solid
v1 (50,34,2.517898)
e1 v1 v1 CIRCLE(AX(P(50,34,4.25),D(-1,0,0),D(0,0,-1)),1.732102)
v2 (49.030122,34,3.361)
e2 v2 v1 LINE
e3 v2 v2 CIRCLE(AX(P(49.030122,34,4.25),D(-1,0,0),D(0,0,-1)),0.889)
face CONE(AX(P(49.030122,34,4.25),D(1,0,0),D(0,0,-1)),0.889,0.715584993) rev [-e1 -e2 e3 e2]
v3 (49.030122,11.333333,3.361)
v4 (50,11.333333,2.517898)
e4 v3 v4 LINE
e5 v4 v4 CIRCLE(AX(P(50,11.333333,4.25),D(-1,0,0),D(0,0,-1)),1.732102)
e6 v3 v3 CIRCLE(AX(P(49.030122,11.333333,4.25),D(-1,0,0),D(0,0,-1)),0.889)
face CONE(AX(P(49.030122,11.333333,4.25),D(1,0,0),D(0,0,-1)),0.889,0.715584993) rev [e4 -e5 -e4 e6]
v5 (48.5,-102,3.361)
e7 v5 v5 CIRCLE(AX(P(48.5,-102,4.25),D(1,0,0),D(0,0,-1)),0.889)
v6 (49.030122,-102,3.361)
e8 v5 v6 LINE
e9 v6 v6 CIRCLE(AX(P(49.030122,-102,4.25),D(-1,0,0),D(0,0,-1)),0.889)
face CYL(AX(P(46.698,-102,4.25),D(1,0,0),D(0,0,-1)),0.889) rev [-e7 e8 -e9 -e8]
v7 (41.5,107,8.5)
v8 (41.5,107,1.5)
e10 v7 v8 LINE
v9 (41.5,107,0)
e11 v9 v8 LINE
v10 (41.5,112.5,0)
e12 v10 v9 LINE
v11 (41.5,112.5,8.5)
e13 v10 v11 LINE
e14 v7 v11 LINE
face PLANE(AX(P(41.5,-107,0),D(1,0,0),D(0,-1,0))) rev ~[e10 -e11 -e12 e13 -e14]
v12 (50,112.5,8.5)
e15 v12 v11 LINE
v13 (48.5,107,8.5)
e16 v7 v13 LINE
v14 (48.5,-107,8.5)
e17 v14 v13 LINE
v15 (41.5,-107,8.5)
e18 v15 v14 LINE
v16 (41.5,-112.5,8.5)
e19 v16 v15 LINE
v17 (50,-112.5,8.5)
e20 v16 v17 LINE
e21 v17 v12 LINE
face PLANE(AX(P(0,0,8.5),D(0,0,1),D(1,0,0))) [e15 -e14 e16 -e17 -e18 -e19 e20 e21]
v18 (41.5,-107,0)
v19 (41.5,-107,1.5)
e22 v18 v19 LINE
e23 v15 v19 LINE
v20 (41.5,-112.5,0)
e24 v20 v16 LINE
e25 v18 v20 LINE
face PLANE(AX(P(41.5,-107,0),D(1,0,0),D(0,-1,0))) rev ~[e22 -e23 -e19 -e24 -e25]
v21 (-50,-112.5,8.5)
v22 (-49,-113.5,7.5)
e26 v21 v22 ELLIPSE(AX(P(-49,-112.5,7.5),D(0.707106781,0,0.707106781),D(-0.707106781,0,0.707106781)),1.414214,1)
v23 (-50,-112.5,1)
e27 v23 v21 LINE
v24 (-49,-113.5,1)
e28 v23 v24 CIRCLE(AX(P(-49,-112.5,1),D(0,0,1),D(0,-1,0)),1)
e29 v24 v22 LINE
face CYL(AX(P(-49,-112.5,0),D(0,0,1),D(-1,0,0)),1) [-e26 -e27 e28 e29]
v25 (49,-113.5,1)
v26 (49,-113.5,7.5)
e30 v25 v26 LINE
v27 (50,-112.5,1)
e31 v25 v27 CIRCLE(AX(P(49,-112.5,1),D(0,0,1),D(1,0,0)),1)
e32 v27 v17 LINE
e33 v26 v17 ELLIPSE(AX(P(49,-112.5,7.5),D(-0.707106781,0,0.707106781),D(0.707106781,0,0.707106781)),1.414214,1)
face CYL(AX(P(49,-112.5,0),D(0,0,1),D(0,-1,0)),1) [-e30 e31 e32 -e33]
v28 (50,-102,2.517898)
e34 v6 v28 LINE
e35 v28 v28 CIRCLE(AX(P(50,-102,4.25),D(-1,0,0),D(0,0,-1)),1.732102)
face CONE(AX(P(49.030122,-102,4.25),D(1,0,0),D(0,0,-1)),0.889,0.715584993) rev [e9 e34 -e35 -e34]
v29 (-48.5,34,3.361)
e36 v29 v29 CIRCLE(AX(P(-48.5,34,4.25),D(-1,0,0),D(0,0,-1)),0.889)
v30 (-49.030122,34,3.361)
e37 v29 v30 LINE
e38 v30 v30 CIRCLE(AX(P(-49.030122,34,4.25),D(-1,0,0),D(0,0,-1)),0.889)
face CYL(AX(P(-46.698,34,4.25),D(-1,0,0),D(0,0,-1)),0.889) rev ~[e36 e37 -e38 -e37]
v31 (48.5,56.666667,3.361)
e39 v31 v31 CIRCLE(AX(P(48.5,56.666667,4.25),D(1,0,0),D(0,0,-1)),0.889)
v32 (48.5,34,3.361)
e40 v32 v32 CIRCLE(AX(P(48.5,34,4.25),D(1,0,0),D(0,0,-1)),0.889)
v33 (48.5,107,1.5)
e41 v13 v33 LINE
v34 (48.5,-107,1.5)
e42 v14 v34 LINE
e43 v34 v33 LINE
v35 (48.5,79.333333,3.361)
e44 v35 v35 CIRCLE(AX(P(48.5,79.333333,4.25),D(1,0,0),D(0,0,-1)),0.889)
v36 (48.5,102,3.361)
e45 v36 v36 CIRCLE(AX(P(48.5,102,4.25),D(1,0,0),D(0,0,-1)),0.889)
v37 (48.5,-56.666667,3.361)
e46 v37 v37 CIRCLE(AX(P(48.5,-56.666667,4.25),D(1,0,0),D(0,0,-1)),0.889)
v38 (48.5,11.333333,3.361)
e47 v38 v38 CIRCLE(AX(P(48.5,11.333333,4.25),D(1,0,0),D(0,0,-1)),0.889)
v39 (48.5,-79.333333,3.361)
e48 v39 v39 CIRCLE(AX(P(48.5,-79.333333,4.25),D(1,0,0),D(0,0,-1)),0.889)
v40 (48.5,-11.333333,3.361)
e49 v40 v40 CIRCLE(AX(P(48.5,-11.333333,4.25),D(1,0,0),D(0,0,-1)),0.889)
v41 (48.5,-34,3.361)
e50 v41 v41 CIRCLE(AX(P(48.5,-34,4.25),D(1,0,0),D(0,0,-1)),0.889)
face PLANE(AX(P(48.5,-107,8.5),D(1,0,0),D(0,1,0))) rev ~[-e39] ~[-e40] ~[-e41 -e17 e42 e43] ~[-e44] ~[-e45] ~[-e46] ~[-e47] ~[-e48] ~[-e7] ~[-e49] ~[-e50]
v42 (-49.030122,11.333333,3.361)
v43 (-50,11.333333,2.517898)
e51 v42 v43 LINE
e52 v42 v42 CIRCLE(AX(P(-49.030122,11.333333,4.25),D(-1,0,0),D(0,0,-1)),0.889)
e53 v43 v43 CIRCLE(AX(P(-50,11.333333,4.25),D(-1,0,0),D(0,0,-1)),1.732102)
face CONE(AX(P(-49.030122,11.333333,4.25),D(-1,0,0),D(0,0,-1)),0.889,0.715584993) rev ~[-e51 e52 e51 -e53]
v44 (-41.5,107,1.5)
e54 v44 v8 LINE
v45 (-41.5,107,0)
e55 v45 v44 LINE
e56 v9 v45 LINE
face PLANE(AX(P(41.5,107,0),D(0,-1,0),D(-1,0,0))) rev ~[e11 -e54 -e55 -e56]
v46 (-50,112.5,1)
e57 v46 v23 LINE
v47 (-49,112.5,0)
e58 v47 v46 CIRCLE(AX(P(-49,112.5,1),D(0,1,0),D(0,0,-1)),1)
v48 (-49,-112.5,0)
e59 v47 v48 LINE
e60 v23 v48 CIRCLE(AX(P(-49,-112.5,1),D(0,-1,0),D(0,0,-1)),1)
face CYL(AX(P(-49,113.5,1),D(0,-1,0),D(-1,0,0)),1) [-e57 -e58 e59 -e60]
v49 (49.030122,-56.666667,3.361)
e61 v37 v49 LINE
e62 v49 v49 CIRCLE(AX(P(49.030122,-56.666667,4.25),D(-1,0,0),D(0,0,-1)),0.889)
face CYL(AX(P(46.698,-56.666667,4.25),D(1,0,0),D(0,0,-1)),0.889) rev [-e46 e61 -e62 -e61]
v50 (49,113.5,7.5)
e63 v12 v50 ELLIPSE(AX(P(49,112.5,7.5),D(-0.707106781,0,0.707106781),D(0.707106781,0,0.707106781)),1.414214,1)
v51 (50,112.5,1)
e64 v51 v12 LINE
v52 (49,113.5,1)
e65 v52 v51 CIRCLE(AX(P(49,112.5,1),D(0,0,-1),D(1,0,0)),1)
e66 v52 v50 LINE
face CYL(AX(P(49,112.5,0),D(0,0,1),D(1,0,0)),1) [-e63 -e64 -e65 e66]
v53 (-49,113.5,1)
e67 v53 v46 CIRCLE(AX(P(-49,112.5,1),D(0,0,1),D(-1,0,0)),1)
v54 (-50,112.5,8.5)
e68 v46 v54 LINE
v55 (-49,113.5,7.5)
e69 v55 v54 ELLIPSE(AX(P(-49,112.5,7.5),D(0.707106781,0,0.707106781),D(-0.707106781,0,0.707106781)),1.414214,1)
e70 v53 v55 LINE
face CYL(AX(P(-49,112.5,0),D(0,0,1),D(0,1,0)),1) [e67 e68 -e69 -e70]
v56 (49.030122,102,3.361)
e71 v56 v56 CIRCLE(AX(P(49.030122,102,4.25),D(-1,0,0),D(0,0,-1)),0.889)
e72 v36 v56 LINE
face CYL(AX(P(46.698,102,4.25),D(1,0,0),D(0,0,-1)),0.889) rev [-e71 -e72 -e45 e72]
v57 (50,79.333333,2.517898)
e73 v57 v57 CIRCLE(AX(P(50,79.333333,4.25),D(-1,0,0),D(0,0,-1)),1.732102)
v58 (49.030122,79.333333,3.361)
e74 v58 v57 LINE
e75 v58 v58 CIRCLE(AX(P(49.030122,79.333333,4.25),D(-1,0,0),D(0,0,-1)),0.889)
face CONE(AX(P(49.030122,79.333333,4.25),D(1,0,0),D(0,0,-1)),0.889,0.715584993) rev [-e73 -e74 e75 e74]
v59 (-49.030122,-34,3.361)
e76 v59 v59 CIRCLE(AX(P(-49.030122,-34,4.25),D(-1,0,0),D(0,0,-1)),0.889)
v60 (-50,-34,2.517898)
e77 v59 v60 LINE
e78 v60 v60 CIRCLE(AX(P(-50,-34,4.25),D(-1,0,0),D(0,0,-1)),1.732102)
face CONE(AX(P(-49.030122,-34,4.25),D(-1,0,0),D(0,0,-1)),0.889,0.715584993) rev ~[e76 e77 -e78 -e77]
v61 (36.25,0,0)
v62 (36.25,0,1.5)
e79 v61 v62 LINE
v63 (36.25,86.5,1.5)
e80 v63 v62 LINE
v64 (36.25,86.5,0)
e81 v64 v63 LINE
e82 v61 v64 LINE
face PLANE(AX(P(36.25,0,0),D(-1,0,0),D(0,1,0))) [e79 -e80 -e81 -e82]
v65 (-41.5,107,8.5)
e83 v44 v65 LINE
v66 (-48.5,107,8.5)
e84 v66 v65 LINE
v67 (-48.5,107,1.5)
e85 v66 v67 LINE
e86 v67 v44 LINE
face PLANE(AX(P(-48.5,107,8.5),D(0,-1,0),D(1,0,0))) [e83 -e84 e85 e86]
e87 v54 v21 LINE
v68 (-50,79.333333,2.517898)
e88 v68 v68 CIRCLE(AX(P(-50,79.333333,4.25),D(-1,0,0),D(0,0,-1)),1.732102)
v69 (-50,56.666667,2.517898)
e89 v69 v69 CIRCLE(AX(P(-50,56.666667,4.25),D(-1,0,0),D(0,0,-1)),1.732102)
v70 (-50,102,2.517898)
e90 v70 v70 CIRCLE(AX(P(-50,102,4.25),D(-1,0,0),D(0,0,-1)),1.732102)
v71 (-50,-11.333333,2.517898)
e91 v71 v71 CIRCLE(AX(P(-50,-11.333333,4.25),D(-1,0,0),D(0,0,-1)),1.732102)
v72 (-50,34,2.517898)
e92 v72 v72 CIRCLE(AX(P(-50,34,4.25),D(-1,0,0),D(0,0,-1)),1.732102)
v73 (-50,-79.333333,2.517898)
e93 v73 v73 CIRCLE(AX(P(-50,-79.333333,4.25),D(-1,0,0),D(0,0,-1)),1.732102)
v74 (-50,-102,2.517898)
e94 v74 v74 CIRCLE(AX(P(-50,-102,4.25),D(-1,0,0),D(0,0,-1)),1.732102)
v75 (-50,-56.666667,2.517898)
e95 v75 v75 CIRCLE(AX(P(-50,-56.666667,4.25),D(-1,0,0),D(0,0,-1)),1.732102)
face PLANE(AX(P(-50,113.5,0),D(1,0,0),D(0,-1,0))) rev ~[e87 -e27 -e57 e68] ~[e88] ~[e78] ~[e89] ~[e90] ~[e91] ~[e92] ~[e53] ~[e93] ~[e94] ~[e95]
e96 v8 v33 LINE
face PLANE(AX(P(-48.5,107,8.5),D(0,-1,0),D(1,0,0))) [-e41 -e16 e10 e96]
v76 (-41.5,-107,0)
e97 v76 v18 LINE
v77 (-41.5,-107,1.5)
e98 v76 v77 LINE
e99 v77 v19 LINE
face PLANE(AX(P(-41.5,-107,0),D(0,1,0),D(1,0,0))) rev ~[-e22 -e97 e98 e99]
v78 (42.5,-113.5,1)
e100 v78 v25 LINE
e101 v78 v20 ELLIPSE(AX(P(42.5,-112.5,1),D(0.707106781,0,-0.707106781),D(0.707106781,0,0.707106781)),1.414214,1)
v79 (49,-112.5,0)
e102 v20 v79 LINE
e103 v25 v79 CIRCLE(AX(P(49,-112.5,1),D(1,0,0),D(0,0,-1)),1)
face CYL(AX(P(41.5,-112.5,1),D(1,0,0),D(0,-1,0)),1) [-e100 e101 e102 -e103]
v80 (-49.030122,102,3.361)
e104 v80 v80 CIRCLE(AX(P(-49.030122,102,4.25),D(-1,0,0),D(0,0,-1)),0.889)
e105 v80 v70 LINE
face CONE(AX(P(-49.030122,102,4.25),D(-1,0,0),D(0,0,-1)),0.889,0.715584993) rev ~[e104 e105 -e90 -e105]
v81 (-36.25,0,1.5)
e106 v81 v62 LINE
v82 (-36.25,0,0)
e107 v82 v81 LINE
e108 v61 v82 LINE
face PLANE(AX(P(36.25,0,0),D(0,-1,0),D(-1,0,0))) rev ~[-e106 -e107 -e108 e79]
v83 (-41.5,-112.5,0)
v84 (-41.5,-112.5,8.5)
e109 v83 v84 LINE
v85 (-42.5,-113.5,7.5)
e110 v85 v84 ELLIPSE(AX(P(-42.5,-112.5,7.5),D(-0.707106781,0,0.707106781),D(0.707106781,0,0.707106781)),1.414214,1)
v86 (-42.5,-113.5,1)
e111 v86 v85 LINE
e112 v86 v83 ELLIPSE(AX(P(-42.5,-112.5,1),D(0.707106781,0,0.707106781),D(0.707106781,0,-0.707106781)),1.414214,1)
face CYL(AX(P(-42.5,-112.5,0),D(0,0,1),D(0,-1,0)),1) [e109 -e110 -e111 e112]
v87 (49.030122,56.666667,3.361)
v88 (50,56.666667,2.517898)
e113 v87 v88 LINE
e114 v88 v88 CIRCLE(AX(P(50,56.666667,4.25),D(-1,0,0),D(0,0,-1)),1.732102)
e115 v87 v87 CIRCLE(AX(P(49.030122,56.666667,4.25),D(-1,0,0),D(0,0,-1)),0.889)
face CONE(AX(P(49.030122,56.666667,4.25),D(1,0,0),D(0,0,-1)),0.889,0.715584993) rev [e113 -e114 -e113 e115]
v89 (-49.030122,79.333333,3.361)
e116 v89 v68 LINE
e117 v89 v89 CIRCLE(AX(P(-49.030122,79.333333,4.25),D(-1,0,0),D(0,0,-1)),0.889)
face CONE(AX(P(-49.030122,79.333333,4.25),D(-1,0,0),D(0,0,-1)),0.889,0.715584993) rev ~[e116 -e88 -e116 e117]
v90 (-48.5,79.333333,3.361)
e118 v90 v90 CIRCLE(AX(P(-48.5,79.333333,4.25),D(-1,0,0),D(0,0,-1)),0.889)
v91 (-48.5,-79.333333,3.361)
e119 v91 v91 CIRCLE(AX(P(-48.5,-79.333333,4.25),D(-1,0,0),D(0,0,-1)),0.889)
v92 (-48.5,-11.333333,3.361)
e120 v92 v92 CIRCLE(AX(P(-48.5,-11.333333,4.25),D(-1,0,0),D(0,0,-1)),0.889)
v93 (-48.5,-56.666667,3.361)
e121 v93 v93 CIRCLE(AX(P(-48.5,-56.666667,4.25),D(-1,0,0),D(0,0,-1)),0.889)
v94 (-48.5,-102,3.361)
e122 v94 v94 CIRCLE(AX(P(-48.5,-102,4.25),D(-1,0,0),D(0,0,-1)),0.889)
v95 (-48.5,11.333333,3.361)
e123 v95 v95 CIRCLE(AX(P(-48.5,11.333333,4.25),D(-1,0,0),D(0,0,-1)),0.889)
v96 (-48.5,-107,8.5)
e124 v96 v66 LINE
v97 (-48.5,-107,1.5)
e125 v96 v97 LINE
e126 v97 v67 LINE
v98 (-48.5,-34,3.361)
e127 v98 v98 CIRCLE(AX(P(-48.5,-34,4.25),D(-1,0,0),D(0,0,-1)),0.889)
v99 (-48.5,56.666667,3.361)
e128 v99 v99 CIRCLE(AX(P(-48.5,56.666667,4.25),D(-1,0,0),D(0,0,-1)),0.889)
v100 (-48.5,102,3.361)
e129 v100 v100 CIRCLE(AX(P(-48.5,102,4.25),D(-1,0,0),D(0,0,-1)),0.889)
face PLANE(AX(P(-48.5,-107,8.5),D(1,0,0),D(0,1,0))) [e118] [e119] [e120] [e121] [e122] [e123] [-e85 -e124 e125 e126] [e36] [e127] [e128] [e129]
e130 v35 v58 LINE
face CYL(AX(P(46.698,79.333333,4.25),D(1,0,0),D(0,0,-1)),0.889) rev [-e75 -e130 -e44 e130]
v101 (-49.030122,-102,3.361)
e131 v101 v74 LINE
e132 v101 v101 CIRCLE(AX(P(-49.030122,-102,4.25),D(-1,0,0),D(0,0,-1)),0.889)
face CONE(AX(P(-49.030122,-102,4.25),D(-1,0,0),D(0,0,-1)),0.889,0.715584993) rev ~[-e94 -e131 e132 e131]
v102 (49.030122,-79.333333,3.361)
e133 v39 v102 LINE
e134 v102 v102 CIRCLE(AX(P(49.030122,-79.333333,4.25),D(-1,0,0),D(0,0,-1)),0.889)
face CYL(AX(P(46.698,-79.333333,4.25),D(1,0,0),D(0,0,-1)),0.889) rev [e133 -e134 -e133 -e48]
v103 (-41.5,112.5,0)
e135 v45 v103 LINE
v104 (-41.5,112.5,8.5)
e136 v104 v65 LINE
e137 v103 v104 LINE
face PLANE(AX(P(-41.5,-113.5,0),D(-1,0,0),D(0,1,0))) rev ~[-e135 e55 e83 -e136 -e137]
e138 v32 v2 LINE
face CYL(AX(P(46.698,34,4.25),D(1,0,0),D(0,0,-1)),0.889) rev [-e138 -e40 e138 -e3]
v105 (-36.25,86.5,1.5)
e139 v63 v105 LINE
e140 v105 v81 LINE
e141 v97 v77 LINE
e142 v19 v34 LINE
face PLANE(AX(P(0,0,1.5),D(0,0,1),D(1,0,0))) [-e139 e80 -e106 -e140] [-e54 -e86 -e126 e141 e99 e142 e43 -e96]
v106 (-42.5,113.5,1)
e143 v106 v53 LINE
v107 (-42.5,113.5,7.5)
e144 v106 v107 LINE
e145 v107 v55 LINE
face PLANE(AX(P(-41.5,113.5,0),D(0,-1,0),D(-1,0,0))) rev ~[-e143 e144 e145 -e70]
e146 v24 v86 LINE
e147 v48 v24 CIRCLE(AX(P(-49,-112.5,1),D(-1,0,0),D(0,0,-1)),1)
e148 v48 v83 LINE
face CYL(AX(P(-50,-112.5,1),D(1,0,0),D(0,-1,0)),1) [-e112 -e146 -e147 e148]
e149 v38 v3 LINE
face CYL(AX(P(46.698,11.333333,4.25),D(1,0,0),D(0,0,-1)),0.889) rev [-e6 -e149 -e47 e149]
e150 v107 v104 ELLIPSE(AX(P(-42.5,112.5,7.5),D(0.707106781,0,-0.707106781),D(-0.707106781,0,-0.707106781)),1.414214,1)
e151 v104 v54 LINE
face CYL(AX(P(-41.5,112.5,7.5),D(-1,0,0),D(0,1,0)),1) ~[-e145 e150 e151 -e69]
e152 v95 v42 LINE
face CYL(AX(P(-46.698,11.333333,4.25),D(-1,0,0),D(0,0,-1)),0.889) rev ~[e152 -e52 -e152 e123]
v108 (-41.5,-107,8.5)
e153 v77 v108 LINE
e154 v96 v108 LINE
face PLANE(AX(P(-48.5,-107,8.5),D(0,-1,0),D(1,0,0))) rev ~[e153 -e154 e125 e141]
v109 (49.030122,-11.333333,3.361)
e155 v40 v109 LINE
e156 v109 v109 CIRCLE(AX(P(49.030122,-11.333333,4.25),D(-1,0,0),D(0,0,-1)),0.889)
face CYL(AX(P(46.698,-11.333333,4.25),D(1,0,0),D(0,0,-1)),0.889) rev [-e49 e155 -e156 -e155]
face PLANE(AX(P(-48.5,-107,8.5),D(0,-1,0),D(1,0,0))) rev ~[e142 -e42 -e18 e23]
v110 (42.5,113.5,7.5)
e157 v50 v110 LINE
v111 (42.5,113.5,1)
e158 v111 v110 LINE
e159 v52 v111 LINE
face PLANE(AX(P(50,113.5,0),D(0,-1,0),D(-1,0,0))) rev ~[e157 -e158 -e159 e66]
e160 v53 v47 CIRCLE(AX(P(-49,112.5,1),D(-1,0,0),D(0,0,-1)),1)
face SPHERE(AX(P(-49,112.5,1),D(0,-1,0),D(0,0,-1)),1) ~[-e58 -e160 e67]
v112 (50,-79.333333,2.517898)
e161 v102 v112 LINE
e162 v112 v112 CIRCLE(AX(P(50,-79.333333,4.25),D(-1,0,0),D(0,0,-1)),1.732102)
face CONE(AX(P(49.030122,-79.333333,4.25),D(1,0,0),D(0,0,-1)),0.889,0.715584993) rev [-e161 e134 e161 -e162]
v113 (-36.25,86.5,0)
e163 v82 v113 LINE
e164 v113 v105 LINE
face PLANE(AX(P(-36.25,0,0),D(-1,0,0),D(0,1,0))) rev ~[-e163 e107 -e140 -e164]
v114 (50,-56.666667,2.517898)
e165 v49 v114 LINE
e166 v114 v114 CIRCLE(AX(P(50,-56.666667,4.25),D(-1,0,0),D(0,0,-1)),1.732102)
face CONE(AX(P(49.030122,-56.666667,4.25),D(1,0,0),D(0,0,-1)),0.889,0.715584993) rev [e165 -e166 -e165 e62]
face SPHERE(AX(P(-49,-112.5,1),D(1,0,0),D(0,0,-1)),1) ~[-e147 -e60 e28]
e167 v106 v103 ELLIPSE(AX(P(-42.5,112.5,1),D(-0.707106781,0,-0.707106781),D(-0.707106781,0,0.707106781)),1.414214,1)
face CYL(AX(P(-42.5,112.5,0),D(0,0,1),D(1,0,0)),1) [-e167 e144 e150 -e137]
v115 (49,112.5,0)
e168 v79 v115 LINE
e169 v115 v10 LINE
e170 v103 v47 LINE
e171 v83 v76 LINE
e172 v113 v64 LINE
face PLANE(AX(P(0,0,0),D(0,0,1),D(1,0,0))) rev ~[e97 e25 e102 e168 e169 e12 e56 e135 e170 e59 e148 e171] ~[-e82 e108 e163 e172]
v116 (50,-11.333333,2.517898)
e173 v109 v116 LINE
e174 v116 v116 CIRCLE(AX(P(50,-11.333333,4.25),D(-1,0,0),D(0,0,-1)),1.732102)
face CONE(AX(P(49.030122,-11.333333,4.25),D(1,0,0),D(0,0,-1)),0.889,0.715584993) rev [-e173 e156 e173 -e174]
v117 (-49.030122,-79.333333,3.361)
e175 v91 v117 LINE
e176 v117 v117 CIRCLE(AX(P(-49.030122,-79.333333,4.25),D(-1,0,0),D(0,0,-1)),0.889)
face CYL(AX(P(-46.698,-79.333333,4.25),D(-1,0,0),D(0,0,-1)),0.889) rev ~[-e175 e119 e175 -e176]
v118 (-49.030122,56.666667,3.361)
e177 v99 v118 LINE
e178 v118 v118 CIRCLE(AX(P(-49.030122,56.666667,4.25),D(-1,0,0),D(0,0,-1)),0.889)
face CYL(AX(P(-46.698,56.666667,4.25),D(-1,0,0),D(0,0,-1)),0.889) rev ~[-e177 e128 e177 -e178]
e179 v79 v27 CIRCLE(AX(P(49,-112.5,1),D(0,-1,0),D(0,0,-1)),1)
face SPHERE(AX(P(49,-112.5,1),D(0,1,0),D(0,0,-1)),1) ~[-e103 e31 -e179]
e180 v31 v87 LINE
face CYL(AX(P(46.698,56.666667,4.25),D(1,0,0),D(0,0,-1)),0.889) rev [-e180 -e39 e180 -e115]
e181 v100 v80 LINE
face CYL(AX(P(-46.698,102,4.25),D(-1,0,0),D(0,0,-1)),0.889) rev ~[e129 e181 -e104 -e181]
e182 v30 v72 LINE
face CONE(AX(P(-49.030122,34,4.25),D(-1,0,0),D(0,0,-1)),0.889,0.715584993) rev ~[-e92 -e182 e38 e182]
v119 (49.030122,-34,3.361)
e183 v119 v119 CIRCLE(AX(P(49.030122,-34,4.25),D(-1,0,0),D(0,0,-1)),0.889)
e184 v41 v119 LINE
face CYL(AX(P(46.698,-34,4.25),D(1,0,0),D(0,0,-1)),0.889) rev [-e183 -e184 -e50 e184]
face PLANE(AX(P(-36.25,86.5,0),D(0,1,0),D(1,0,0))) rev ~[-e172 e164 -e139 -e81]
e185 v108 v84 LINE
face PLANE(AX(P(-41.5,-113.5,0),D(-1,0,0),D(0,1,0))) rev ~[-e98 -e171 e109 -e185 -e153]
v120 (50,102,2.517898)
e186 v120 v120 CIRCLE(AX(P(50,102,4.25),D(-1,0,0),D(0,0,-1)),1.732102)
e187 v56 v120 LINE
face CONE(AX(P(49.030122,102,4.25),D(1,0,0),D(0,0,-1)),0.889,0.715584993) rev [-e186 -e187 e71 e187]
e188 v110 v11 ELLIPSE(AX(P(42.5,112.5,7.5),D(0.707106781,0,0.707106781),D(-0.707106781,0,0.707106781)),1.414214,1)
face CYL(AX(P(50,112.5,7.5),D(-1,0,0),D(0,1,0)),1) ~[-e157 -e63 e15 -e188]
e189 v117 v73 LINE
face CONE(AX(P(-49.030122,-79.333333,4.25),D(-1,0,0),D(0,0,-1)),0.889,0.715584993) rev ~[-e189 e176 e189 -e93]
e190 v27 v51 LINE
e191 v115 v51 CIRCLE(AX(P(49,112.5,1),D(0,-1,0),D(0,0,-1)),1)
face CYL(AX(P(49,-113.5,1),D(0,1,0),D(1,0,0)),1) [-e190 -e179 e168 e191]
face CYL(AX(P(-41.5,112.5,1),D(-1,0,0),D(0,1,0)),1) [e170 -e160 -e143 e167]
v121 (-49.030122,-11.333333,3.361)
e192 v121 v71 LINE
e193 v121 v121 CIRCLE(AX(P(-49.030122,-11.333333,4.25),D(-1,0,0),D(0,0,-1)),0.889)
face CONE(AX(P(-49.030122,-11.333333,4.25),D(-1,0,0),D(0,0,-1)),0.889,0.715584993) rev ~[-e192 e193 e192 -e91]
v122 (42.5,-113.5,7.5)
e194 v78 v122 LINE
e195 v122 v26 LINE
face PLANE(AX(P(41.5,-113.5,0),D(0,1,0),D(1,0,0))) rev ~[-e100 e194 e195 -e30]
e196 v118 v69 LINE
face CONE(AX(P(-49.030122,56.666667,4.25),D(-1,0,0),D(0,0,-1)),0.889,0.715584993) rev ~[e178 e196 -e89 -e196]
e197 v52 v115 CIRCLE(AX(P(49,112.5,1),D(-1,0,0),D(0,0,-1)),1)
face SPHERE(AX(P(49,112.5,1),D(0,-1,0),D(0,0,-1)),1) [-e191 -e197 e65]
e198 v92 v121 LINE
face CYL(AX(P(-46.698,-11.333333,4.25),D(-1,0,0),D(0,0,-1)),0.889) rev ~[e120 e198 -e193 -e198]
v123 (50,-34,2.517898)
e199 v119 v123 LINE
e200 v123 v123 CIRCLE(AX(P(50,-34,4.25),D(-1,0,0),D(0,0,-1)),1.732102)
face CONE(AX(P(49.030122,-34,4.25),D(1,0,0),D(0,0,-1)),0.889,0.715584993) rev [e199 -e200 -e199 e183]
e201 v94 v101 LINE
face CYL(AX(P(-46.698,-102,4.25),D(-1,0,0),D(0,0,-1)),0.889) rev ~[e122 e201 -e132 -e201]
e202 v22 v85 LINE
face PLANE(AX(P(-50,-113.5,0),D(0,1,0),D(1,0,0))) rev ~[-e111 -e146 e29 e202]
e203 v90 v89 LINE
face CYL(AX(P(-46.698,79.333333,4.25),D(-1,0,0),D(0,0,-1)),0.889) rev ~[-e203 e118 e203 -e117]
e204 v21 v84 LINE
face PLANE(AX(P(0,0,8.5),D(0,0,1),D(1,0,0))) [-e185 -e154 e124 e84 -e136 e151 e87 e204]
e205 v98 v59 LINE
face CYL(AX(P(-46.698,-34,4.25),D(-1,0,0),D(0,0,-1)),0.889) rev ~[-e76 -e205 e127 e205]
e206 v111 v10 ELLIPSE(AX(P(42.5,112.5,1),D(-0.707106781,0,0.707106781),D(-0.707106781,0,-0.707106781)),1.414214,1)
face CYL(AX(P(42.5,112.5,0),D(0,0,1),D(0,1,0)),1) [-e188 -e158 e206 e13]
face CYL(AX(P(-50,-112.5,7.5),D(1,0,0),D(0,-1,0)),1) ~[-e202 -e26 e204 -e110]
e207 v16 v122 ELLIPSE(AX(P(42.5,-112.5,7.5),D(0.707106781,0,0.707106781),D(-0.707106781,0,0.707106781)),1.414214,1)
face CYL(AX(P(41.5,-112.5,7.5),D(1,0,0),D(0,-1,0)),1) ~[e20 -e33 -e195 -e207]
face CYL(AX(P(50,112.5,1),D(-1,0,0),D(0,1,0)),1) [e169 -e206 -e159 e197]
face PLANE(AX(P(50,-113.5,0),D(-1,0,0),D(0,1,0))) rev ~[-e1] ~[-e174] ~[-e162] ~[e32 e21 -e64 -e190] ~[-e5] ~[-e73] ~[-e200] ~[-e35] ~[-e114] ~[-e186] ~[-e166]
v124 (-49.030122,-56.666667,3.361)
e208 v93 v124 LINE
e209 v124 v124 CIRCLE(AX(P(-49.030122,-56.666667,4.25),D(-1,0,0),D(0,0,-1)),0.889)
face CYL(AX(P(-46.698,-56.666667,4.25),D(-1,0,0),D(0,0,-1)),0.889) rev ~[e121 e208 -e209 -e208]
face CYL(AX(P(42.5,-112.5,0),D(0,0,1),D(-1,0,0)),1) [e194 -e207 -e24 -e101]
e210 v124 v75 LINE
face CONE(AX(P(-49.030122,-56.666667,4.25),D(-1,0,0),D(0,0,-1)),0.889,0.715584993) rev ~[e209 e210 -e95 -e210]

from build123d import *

# Parameters (mm, degrees)
BOSS_EXTRUDE1_DEPTH                           = 8.5
FILLET1_R                                     = 1
SKETCH2_W                                     = 83
SKETCH2_H                                     = 214
CUT_EXTRUDE1_DEPTH                            = 7
SKETCH3_W                                     = 97
SKETCH3_H                                     = 214
CUT_EXTRUDE2_DEPTH                            = 7
SKETCH6_W                                     = 36.25
SKETCH6_H                                     = 86.5
CUT_EXTRUDE3_DEPTH                            = 10
CSK_FOR_0_FLAT_HEAD_MACHINE_SCREW1_AT_2_COUNT = 2
CSK_FOR_0_FLAT_HEAD_MACHINE_SCREW1_AT_2_PITCH = 22.666666667
CSK_FOR_0_FLAT_HEAD_MACHINE_SCREW1_AT_3_COUNT = 2
CSK_FOR_0_FLAT_HEAD_MACHINE_SCREW1_AT_3_PITCH = 45.333333333
CSK_FOR_0_FLAT_HEAD_MACHINE_SCREW1_AT_4_COUNT = 2
CSK_FOR_0_FLAT_HEAD_MACHINE_SCREW1_AT_4_PITCH = 68
CSK_FOR_0_FLAT_HEAD_MACHINE_SCREW1_AT_5_COUNT = 2
CSK_FOR_0_FLAT_HEAD_MACHINE_SCREW1_AT_5_PITCH = 90.666666667
CSK_FOR_0_FLAT_HEAD_MACHINE_SCREW1_AT_6_COUNT = 2
CSK_FOR_0_FLAT_HEAD_MACHINE_SCREW1_AT_6_PITCH = 113.333333333
CSK_FOR_0_FLAT_HEAD_MACHINE_SCREW1_AT_7_COUNT = 2
CSK_FOR_0_FLAT_HEAD_MACHINE_SCREW1_AT_7_PITCH = 136
CSK_FOR_0_FLAT_HEAD_MACHINE_SCREW1_AT_8_COUNT = 2
CSK_FOR_0_FLAT_HEAD_MACHINE_SCREW1_AT_8_PITCH = 158.666666667
CSK_FOR_0_FLAT_HEAD_MACHINE_SCREW1_AT_9_COUNT = 2
CSK_FOR_0_FLAT_HEAD_MACHINE_SCREW1_AT_9_PITCH = 181.333333333
CSK_FOR_0_FLAT_HEAD_MACHINE_SCREW1_AT_1_COUNT = 2
CSK_FOR_0_FLAT_HEAD_MACHINE_SCREW1_AT_1_PITCH = 204


with BuildPart() as part:
    # Sketch1 → Boss-Extrude1 (new body)
    with BuildSketch(Plane.XY):
        Polygon((-41.5, -107), (41.5, -107), (41.5, -113.5), (50, -113.5), (50, -107), (50, 107), (50, 113.5), (41.5, 113.5), (41.5, 107), (-41.5, 107), (-41.5, 113.5), (-50, 113.5), (-50, 107), (-50, -107), (-50, -113.5), (-41.5, -113.5), align=None)
    extrude(amount=BOSS_EXTRUDE1_DEPTH)

    # Fillet1
    fillet1_edges = [part.edges().sort_by_distance(p)[0] for p in [
        (50, 0, 0),
        (45.75, -113.5, 0),
        (-45.75, -113.5, 0),
        (-50, 0, 0),
        (-45.75, 113.5, 0),
        (-45.75, 113.5, 8.5),
        (45.75, 113.5, 0),
        (50, -113.5, 4.25),
        (41.5, -113.5, 4.25),
        (-41.5, -113.5, 4.25),
        (-50, -113.5, 4.25),
        (-50, 113.5, 4.25),
        (-41.5, 113.5, 4.25),
        (41.5, 113.5, 4.25),
        (50, 113.5, 4.25),
        (-45.75, -113.5, 8.5),
        (45.75, -113.5, 8.5),
        (45.75, 113.5, 8.5),
    ]]
    fillet(fillet1_edges, radius=FILLET1_R)

    # Sketch2 → Cut-Extrude1 (cut)
    with BuildSketch(Plane.XY.offset(8.5)):
        Rectangle(SKETCH2_W, SKETCH2_H)
    extrude(amount=-CUT_EXTRUDE1_DEPTH, mode=Mode.SUBTRACT)

    # Sketch3 → Cut-Extrude2 (cut)
    with BuildSketch(Plane.XY.offset(8.5)):
        Rectangle(SKETCH3_W, SKETCH3_H)
    extrude(amount=-CUT_EXTRUDE2_DEPTH, mode=Mode.SUBTRACT)

    # Sketch6 → Cut-Extrude3 (cut)
    with BuildSketch(Plane(origin=(0, 0, 0), x_dir=(-1, 0, 0), z_dir=(0, 0, -1))):
        with Locations((-18.125, 43.25)):
            Rectangle(SKETCH6_W, SKETCH6_H)
        with Locations((18.125, 43.25)):
            Rectangle(SKETCH6_W, SKETCH6_H)
    extrude(amount=-CUT_EXTRUDE3_DEPTH, mode=Mode.SUBTRACT)

    # Sketch7 → CSK for #0 Flat Head Machine Screw1 (revolve, cut)
    with BuildSketch(Plane(origin=(50, 102, 4.25), x_dir=(0, 0, -1), z_dir=(0, 1, 0))):
        Polygon((0, 0), (0, 3.83616509), (0.889, 3.302), (0.889, 0.969878135), (1.7321022, 0), align=None)
    csk_for_0_flat_head_machine_screw1 = revolve(axis=Axis((56.35, 102, 4.25), (-1, 0, 0)), mode=Mode.SUBTRACT)

    # CSK for #0 Flat Head Machine Screw1 at 2: CSK for #0 Flat Head Machine Screw1 ×2
    with Locations(*[(0, -i * CSK_FOR_0_FLAT_HEAD_MACHINE_SCREW1_AT_2_PITCH, 0) for i in range(1, CSK_FOR_0_FLAT_HEAD_MACHINE_SCREW1_AT_2_COUNT)]):
        add(csk_for_0_flat_head_machine_screw1, mode=Mode.SUBTRACT)

    # CSK for #0 Flat Head Machine Screw1 at 3: CSK for #0 Flat Head Machine Screw1 ×2
    with Locations(*[(0, -i * CSK_FOR_0_FLAT_HEAD_MACHINE_SCREW1_AT_3_PITCH, 0) for i in range(1, CSK_FOR_0_FLAT_HEAD_MACHINE_SCREW1_AT_3_COUNT)]):
        add(csk_for_0_flat_head_machine_screw1, mode=Mode.SUBTRACT)

    # CSK for #0 Flat Head Machine Screw1 at 4: CSK for #0 Flat Head Machine Screw1 ×2
    with Locations(*[(0, -i * CSK_FOR_0_FLAT_HEAD_MACHINE_SCREW1_AT_4_PITCH, 0) for i in range(1, CSK_FOR_0_FLAT_HEAD_MACHINE_SCREW1_AT_4_COUNT)]):
        add(csk_for_0_flat_head_machine_screw1, mode=Mode.SUBTRACT)

    # CSK for #0 Flat Head Machine Screw1 at 5: CSK for #0 Flat Head Machine Screw1 ×2
    with Locations(*[(0, -i * CSK_FOR_0_FLAT_HEAD_MACHINE_SCREW1_AT_5_PITCH, 0) for i in range(1, CSK_FOR_0_FLAT_HEAD_MACHINE_SCREW1_AT_5_COUNT)]):
        add(csk_for_0_flat_head_machine_screw1, mode=Mode.SUBTRACT)

    # CSK for #0 Flat Head Machine Screw1 at 6: CSK for #0 Flat Head Machine Screw1 ×2
    with Locations(*[(0, -i * CSK_FOR_0_FLAT_HEAD_MACHINE_SCREW1_AT_6_PITCH, 0) for i in range(1, CSK_FOR_0_FLAT_HEAD_MACHINE_SCREW1_AT_6_COUNT)]):
        add(csk_for_0_flat_head_machine_screw1, mode=Mode.SUBTRACT)

    # CSK for #0 Flat Head Machine Screw1 at 7: CSK for #0 Flat Head Machine Screw1 ×2
    with Locations(*[(0, -i * CSK_FOR_0_FLAT_HEAD_MACHINE_SCREW1_AT_7_PITCH, 0) for i in range(1, CSK_FOR_0_FLAT_HEAD_MACHINE_SCREW1_AT_7_COUNT)]):
        add(csk_for_0_flat_head_machine_screw1, mode=Mode.SUBTRACT)

    # CSK for #0 Flat Head Machine Screw1 at 8: CSK for #0 Flat Head Machine Screw1 ×2
    with Locations(*[(0, -i * CSK_FOR_0_FLAT_HEAD_MACHINE_SCREW1_AT_8_PITCH, 0) for i in range(1, CSK_FOR_0_FLAT_HEAD_MACHINE_SCREW1_AT_8_COUNT)]):
        add(csk_for_0_flat_head_machine_screw1, mode=Mode.SUBTRACT)

    # CSK for #0 Flat Head Machine Screw1 at 9: CSK for #0 Flat Head Machine Screw1 ×2
    with Locations(*[(0, -i * CSK_FOR_0_FLAT_HEAD_MACHINE_SCREW1_AT_9_PITCH, 0) for i in range(1, CSK_FOR_0_FLAT_HEAD_MACHINE_SCREW1_AT_9_COUNT)]):
        add(csk_for_0_flat_head_machine_screw1, mode=Mode.SUBTRACT)

    # CSK for #0 Flat Head Machine Screw1 at 1: CSK for #0 Flat Head Machine Screw1 ×2
    with Locations(*[(0, -i * CSK_FOR_0_FLAT_HEAD_MACHINE_SCREW1_AT_1_PITCH, 0) for i in range(1, CSK_FOR_0_FLAT_HEAD_MACHINE_SCREW1_AT_1_COUNT)]):
        add(csk_for_0_flat_head_machine_screw1, mode=Mode.SUBTRACT)

    # Mirror1: CSK for #0 Flat Head Machine Screw1 across plane
    add(csk_for_0_flat_head_machine_screw1.mirror(Plane(origin=(0, 0, 0), x_dir=(0, 0, 1), z_dir=(1, 0, 0))), mode=Mode.SUBTRACT)

    # Mirror1 copy 1 sketch → Mirror1 copy 1 (revolve, cut)
    with BuildSketch(Plane(origin=(-50, 79.333333333, 4.25), x_dir=(0, 0, -1), z_dir=(0, 1, 0))):
        Polygon((0, 0), (0, -3.83616509), (0.889, -3.302), (0.889, -0.969878135), (1.7321022, 0), align=None)
    revolve(axis=Axis((-56.35, 79.333333333, 4.25), (-1, 0, 0)), mode=Mode.SUBTRACT)

    # Mirror1 copy 2 sketch → Mirror1 copy 2 (revolve, cut)
    with BuildSketch(Plane(origin=(-50, 56.666666667, 4.25), x_dir=(0, 0, -1), z_dir=(0, 1, 0))):
        Polygon((0, 0), (0, -3.83616509), (0.889, -3.302), (0.889, -0.969878135), (1.7321022, 0), align=None)
    revolve(axis=Axis((-56.35, 56.666666667, 4.25), (-1, 0, 0)), mode=Mode.SUBTRACT)

    # Mirror1 copy 3 sketch → Mirror1 copy 3 (revolve, cut)
    with BuildSketch(Plane(origin=(-50, 34, 4.25), x_dir=(0, 0, -1), z_dir=(0, 1, 0))):
        Polygon((0, 0), (0, -3.83616509), (0.889, -3.302), (0.889, -0.969878135), (1.7321022, 0), align=None)
    revolve(axis=Axis((-56.35, 34, 4.25), (-1, 0, 0)), mode=Mode.SUBTRACT)

    # Mirror1 copy 4 sketch → Mirror1 copy 4 (revolve, cut)
    with BuildSketch(Plane(origin=(-50, 11.333333333, 4.25), x_dir=(0, 0, -1), z_dir=(0, 1, 0))):
        Polygon((0, 0), (0, -3.83616509), (0.889, -3.302), (0.889, -0.969878135), (1.7321022, 0), align=None)
    revolve(axis=Axis((-56.35, 11.333333333, 4.25), (-1, 0, 0)), mode=Mode.SUBTRACT)

    # Mirror1 copy 5 sketch → Mirror1 copy 5 (revolve, cut)
    with BuildSketch(Plane(origin=(-50, -11.333333333, 4.25), x_dir=(0, 0, -1), z_dir=(0, 1, 0))):
        Polygon((0, 0), (0, -3.83616509), (0.889, -3.302), (0.889, -0.969878135), (1.7321022, 0), align=None)
    revolve(axis=Axis((-56.35, -11.333333333, 4.25), (-1, 0, 0)), mode=Mode.SUBTRACT)

    # Mirror1 copy 6 sketch → Mirror1 copy 6 (revolve, cut)
    with BuildSketch(Plane(origin=(-50, -34, 4.25), x_dir=(0, 0, -1), z_dir=(0, 1, 0))):
        Polygon((0, 0), (0, -3.83616509), (0.889, -3.302), (0.889, -0.969878135), (1.7321022, 0), align=None)
    revolve(axis=Axis((-56.35, -34, 4.25), (-1, 0, 0)), mode=Mode.SUBTRACT)

    # Mirror1 copy 7 sketch → Mirror1 copy 7 (revolve, cut)
    with BuildSketch(Plane(origin=(-50, -56.666666667, 4.25), x_dir=(0, 0, -1), z_dir=(0, 1, 0))):
        Polygon((0, 0), (0, -3.83616509), (0.889, -3.302), (0.889, -0.969878135), (1.7321022, 0), align=None)
    revolve(axis=Axis((-56.35, -56.666666667, 4.25), (-1, 0, 0)), mode=Mode.SUBTRACT)

    # Mirror1 copy 8 sketch → Mirror1 copy 8 (revolve, cut)
    with BuildSketch(Plane(origin=(-50, -79.333333333, 4.25), x_dir=(0, 0, -1), z_dir=(0, 1, 0))):
        Polygon((0, 0), (0, -3.83616509), (0.889, -3.302), (0.889, -0.969878135), (1.7321022, 0), align=None)
    revolve(axis=Axis((-56.35, -79.333333333, 4.25), (-1, 0, 0)), mode=Mode.SUBTRACT)

    # Mirror1 copy 9 sketch → Mirror1 copy 9 (revolve, cut)
    with BuildSketch(Plane(origin=(-50, -102, 4.25), x_dir=(0, 0, -1), z_dir=(0, 1, 0))):
        Polygon((0, 0), (0, -3.83616509), (0.889, -3.302), (0.889, -0.969878135), (1.7321022, 0), align=None)
    revolve(axis=Axis((-56.35, -102, 4.25), (-1, 0, 0)), mode=Mode.SUBTRACT)


solid = part.part
